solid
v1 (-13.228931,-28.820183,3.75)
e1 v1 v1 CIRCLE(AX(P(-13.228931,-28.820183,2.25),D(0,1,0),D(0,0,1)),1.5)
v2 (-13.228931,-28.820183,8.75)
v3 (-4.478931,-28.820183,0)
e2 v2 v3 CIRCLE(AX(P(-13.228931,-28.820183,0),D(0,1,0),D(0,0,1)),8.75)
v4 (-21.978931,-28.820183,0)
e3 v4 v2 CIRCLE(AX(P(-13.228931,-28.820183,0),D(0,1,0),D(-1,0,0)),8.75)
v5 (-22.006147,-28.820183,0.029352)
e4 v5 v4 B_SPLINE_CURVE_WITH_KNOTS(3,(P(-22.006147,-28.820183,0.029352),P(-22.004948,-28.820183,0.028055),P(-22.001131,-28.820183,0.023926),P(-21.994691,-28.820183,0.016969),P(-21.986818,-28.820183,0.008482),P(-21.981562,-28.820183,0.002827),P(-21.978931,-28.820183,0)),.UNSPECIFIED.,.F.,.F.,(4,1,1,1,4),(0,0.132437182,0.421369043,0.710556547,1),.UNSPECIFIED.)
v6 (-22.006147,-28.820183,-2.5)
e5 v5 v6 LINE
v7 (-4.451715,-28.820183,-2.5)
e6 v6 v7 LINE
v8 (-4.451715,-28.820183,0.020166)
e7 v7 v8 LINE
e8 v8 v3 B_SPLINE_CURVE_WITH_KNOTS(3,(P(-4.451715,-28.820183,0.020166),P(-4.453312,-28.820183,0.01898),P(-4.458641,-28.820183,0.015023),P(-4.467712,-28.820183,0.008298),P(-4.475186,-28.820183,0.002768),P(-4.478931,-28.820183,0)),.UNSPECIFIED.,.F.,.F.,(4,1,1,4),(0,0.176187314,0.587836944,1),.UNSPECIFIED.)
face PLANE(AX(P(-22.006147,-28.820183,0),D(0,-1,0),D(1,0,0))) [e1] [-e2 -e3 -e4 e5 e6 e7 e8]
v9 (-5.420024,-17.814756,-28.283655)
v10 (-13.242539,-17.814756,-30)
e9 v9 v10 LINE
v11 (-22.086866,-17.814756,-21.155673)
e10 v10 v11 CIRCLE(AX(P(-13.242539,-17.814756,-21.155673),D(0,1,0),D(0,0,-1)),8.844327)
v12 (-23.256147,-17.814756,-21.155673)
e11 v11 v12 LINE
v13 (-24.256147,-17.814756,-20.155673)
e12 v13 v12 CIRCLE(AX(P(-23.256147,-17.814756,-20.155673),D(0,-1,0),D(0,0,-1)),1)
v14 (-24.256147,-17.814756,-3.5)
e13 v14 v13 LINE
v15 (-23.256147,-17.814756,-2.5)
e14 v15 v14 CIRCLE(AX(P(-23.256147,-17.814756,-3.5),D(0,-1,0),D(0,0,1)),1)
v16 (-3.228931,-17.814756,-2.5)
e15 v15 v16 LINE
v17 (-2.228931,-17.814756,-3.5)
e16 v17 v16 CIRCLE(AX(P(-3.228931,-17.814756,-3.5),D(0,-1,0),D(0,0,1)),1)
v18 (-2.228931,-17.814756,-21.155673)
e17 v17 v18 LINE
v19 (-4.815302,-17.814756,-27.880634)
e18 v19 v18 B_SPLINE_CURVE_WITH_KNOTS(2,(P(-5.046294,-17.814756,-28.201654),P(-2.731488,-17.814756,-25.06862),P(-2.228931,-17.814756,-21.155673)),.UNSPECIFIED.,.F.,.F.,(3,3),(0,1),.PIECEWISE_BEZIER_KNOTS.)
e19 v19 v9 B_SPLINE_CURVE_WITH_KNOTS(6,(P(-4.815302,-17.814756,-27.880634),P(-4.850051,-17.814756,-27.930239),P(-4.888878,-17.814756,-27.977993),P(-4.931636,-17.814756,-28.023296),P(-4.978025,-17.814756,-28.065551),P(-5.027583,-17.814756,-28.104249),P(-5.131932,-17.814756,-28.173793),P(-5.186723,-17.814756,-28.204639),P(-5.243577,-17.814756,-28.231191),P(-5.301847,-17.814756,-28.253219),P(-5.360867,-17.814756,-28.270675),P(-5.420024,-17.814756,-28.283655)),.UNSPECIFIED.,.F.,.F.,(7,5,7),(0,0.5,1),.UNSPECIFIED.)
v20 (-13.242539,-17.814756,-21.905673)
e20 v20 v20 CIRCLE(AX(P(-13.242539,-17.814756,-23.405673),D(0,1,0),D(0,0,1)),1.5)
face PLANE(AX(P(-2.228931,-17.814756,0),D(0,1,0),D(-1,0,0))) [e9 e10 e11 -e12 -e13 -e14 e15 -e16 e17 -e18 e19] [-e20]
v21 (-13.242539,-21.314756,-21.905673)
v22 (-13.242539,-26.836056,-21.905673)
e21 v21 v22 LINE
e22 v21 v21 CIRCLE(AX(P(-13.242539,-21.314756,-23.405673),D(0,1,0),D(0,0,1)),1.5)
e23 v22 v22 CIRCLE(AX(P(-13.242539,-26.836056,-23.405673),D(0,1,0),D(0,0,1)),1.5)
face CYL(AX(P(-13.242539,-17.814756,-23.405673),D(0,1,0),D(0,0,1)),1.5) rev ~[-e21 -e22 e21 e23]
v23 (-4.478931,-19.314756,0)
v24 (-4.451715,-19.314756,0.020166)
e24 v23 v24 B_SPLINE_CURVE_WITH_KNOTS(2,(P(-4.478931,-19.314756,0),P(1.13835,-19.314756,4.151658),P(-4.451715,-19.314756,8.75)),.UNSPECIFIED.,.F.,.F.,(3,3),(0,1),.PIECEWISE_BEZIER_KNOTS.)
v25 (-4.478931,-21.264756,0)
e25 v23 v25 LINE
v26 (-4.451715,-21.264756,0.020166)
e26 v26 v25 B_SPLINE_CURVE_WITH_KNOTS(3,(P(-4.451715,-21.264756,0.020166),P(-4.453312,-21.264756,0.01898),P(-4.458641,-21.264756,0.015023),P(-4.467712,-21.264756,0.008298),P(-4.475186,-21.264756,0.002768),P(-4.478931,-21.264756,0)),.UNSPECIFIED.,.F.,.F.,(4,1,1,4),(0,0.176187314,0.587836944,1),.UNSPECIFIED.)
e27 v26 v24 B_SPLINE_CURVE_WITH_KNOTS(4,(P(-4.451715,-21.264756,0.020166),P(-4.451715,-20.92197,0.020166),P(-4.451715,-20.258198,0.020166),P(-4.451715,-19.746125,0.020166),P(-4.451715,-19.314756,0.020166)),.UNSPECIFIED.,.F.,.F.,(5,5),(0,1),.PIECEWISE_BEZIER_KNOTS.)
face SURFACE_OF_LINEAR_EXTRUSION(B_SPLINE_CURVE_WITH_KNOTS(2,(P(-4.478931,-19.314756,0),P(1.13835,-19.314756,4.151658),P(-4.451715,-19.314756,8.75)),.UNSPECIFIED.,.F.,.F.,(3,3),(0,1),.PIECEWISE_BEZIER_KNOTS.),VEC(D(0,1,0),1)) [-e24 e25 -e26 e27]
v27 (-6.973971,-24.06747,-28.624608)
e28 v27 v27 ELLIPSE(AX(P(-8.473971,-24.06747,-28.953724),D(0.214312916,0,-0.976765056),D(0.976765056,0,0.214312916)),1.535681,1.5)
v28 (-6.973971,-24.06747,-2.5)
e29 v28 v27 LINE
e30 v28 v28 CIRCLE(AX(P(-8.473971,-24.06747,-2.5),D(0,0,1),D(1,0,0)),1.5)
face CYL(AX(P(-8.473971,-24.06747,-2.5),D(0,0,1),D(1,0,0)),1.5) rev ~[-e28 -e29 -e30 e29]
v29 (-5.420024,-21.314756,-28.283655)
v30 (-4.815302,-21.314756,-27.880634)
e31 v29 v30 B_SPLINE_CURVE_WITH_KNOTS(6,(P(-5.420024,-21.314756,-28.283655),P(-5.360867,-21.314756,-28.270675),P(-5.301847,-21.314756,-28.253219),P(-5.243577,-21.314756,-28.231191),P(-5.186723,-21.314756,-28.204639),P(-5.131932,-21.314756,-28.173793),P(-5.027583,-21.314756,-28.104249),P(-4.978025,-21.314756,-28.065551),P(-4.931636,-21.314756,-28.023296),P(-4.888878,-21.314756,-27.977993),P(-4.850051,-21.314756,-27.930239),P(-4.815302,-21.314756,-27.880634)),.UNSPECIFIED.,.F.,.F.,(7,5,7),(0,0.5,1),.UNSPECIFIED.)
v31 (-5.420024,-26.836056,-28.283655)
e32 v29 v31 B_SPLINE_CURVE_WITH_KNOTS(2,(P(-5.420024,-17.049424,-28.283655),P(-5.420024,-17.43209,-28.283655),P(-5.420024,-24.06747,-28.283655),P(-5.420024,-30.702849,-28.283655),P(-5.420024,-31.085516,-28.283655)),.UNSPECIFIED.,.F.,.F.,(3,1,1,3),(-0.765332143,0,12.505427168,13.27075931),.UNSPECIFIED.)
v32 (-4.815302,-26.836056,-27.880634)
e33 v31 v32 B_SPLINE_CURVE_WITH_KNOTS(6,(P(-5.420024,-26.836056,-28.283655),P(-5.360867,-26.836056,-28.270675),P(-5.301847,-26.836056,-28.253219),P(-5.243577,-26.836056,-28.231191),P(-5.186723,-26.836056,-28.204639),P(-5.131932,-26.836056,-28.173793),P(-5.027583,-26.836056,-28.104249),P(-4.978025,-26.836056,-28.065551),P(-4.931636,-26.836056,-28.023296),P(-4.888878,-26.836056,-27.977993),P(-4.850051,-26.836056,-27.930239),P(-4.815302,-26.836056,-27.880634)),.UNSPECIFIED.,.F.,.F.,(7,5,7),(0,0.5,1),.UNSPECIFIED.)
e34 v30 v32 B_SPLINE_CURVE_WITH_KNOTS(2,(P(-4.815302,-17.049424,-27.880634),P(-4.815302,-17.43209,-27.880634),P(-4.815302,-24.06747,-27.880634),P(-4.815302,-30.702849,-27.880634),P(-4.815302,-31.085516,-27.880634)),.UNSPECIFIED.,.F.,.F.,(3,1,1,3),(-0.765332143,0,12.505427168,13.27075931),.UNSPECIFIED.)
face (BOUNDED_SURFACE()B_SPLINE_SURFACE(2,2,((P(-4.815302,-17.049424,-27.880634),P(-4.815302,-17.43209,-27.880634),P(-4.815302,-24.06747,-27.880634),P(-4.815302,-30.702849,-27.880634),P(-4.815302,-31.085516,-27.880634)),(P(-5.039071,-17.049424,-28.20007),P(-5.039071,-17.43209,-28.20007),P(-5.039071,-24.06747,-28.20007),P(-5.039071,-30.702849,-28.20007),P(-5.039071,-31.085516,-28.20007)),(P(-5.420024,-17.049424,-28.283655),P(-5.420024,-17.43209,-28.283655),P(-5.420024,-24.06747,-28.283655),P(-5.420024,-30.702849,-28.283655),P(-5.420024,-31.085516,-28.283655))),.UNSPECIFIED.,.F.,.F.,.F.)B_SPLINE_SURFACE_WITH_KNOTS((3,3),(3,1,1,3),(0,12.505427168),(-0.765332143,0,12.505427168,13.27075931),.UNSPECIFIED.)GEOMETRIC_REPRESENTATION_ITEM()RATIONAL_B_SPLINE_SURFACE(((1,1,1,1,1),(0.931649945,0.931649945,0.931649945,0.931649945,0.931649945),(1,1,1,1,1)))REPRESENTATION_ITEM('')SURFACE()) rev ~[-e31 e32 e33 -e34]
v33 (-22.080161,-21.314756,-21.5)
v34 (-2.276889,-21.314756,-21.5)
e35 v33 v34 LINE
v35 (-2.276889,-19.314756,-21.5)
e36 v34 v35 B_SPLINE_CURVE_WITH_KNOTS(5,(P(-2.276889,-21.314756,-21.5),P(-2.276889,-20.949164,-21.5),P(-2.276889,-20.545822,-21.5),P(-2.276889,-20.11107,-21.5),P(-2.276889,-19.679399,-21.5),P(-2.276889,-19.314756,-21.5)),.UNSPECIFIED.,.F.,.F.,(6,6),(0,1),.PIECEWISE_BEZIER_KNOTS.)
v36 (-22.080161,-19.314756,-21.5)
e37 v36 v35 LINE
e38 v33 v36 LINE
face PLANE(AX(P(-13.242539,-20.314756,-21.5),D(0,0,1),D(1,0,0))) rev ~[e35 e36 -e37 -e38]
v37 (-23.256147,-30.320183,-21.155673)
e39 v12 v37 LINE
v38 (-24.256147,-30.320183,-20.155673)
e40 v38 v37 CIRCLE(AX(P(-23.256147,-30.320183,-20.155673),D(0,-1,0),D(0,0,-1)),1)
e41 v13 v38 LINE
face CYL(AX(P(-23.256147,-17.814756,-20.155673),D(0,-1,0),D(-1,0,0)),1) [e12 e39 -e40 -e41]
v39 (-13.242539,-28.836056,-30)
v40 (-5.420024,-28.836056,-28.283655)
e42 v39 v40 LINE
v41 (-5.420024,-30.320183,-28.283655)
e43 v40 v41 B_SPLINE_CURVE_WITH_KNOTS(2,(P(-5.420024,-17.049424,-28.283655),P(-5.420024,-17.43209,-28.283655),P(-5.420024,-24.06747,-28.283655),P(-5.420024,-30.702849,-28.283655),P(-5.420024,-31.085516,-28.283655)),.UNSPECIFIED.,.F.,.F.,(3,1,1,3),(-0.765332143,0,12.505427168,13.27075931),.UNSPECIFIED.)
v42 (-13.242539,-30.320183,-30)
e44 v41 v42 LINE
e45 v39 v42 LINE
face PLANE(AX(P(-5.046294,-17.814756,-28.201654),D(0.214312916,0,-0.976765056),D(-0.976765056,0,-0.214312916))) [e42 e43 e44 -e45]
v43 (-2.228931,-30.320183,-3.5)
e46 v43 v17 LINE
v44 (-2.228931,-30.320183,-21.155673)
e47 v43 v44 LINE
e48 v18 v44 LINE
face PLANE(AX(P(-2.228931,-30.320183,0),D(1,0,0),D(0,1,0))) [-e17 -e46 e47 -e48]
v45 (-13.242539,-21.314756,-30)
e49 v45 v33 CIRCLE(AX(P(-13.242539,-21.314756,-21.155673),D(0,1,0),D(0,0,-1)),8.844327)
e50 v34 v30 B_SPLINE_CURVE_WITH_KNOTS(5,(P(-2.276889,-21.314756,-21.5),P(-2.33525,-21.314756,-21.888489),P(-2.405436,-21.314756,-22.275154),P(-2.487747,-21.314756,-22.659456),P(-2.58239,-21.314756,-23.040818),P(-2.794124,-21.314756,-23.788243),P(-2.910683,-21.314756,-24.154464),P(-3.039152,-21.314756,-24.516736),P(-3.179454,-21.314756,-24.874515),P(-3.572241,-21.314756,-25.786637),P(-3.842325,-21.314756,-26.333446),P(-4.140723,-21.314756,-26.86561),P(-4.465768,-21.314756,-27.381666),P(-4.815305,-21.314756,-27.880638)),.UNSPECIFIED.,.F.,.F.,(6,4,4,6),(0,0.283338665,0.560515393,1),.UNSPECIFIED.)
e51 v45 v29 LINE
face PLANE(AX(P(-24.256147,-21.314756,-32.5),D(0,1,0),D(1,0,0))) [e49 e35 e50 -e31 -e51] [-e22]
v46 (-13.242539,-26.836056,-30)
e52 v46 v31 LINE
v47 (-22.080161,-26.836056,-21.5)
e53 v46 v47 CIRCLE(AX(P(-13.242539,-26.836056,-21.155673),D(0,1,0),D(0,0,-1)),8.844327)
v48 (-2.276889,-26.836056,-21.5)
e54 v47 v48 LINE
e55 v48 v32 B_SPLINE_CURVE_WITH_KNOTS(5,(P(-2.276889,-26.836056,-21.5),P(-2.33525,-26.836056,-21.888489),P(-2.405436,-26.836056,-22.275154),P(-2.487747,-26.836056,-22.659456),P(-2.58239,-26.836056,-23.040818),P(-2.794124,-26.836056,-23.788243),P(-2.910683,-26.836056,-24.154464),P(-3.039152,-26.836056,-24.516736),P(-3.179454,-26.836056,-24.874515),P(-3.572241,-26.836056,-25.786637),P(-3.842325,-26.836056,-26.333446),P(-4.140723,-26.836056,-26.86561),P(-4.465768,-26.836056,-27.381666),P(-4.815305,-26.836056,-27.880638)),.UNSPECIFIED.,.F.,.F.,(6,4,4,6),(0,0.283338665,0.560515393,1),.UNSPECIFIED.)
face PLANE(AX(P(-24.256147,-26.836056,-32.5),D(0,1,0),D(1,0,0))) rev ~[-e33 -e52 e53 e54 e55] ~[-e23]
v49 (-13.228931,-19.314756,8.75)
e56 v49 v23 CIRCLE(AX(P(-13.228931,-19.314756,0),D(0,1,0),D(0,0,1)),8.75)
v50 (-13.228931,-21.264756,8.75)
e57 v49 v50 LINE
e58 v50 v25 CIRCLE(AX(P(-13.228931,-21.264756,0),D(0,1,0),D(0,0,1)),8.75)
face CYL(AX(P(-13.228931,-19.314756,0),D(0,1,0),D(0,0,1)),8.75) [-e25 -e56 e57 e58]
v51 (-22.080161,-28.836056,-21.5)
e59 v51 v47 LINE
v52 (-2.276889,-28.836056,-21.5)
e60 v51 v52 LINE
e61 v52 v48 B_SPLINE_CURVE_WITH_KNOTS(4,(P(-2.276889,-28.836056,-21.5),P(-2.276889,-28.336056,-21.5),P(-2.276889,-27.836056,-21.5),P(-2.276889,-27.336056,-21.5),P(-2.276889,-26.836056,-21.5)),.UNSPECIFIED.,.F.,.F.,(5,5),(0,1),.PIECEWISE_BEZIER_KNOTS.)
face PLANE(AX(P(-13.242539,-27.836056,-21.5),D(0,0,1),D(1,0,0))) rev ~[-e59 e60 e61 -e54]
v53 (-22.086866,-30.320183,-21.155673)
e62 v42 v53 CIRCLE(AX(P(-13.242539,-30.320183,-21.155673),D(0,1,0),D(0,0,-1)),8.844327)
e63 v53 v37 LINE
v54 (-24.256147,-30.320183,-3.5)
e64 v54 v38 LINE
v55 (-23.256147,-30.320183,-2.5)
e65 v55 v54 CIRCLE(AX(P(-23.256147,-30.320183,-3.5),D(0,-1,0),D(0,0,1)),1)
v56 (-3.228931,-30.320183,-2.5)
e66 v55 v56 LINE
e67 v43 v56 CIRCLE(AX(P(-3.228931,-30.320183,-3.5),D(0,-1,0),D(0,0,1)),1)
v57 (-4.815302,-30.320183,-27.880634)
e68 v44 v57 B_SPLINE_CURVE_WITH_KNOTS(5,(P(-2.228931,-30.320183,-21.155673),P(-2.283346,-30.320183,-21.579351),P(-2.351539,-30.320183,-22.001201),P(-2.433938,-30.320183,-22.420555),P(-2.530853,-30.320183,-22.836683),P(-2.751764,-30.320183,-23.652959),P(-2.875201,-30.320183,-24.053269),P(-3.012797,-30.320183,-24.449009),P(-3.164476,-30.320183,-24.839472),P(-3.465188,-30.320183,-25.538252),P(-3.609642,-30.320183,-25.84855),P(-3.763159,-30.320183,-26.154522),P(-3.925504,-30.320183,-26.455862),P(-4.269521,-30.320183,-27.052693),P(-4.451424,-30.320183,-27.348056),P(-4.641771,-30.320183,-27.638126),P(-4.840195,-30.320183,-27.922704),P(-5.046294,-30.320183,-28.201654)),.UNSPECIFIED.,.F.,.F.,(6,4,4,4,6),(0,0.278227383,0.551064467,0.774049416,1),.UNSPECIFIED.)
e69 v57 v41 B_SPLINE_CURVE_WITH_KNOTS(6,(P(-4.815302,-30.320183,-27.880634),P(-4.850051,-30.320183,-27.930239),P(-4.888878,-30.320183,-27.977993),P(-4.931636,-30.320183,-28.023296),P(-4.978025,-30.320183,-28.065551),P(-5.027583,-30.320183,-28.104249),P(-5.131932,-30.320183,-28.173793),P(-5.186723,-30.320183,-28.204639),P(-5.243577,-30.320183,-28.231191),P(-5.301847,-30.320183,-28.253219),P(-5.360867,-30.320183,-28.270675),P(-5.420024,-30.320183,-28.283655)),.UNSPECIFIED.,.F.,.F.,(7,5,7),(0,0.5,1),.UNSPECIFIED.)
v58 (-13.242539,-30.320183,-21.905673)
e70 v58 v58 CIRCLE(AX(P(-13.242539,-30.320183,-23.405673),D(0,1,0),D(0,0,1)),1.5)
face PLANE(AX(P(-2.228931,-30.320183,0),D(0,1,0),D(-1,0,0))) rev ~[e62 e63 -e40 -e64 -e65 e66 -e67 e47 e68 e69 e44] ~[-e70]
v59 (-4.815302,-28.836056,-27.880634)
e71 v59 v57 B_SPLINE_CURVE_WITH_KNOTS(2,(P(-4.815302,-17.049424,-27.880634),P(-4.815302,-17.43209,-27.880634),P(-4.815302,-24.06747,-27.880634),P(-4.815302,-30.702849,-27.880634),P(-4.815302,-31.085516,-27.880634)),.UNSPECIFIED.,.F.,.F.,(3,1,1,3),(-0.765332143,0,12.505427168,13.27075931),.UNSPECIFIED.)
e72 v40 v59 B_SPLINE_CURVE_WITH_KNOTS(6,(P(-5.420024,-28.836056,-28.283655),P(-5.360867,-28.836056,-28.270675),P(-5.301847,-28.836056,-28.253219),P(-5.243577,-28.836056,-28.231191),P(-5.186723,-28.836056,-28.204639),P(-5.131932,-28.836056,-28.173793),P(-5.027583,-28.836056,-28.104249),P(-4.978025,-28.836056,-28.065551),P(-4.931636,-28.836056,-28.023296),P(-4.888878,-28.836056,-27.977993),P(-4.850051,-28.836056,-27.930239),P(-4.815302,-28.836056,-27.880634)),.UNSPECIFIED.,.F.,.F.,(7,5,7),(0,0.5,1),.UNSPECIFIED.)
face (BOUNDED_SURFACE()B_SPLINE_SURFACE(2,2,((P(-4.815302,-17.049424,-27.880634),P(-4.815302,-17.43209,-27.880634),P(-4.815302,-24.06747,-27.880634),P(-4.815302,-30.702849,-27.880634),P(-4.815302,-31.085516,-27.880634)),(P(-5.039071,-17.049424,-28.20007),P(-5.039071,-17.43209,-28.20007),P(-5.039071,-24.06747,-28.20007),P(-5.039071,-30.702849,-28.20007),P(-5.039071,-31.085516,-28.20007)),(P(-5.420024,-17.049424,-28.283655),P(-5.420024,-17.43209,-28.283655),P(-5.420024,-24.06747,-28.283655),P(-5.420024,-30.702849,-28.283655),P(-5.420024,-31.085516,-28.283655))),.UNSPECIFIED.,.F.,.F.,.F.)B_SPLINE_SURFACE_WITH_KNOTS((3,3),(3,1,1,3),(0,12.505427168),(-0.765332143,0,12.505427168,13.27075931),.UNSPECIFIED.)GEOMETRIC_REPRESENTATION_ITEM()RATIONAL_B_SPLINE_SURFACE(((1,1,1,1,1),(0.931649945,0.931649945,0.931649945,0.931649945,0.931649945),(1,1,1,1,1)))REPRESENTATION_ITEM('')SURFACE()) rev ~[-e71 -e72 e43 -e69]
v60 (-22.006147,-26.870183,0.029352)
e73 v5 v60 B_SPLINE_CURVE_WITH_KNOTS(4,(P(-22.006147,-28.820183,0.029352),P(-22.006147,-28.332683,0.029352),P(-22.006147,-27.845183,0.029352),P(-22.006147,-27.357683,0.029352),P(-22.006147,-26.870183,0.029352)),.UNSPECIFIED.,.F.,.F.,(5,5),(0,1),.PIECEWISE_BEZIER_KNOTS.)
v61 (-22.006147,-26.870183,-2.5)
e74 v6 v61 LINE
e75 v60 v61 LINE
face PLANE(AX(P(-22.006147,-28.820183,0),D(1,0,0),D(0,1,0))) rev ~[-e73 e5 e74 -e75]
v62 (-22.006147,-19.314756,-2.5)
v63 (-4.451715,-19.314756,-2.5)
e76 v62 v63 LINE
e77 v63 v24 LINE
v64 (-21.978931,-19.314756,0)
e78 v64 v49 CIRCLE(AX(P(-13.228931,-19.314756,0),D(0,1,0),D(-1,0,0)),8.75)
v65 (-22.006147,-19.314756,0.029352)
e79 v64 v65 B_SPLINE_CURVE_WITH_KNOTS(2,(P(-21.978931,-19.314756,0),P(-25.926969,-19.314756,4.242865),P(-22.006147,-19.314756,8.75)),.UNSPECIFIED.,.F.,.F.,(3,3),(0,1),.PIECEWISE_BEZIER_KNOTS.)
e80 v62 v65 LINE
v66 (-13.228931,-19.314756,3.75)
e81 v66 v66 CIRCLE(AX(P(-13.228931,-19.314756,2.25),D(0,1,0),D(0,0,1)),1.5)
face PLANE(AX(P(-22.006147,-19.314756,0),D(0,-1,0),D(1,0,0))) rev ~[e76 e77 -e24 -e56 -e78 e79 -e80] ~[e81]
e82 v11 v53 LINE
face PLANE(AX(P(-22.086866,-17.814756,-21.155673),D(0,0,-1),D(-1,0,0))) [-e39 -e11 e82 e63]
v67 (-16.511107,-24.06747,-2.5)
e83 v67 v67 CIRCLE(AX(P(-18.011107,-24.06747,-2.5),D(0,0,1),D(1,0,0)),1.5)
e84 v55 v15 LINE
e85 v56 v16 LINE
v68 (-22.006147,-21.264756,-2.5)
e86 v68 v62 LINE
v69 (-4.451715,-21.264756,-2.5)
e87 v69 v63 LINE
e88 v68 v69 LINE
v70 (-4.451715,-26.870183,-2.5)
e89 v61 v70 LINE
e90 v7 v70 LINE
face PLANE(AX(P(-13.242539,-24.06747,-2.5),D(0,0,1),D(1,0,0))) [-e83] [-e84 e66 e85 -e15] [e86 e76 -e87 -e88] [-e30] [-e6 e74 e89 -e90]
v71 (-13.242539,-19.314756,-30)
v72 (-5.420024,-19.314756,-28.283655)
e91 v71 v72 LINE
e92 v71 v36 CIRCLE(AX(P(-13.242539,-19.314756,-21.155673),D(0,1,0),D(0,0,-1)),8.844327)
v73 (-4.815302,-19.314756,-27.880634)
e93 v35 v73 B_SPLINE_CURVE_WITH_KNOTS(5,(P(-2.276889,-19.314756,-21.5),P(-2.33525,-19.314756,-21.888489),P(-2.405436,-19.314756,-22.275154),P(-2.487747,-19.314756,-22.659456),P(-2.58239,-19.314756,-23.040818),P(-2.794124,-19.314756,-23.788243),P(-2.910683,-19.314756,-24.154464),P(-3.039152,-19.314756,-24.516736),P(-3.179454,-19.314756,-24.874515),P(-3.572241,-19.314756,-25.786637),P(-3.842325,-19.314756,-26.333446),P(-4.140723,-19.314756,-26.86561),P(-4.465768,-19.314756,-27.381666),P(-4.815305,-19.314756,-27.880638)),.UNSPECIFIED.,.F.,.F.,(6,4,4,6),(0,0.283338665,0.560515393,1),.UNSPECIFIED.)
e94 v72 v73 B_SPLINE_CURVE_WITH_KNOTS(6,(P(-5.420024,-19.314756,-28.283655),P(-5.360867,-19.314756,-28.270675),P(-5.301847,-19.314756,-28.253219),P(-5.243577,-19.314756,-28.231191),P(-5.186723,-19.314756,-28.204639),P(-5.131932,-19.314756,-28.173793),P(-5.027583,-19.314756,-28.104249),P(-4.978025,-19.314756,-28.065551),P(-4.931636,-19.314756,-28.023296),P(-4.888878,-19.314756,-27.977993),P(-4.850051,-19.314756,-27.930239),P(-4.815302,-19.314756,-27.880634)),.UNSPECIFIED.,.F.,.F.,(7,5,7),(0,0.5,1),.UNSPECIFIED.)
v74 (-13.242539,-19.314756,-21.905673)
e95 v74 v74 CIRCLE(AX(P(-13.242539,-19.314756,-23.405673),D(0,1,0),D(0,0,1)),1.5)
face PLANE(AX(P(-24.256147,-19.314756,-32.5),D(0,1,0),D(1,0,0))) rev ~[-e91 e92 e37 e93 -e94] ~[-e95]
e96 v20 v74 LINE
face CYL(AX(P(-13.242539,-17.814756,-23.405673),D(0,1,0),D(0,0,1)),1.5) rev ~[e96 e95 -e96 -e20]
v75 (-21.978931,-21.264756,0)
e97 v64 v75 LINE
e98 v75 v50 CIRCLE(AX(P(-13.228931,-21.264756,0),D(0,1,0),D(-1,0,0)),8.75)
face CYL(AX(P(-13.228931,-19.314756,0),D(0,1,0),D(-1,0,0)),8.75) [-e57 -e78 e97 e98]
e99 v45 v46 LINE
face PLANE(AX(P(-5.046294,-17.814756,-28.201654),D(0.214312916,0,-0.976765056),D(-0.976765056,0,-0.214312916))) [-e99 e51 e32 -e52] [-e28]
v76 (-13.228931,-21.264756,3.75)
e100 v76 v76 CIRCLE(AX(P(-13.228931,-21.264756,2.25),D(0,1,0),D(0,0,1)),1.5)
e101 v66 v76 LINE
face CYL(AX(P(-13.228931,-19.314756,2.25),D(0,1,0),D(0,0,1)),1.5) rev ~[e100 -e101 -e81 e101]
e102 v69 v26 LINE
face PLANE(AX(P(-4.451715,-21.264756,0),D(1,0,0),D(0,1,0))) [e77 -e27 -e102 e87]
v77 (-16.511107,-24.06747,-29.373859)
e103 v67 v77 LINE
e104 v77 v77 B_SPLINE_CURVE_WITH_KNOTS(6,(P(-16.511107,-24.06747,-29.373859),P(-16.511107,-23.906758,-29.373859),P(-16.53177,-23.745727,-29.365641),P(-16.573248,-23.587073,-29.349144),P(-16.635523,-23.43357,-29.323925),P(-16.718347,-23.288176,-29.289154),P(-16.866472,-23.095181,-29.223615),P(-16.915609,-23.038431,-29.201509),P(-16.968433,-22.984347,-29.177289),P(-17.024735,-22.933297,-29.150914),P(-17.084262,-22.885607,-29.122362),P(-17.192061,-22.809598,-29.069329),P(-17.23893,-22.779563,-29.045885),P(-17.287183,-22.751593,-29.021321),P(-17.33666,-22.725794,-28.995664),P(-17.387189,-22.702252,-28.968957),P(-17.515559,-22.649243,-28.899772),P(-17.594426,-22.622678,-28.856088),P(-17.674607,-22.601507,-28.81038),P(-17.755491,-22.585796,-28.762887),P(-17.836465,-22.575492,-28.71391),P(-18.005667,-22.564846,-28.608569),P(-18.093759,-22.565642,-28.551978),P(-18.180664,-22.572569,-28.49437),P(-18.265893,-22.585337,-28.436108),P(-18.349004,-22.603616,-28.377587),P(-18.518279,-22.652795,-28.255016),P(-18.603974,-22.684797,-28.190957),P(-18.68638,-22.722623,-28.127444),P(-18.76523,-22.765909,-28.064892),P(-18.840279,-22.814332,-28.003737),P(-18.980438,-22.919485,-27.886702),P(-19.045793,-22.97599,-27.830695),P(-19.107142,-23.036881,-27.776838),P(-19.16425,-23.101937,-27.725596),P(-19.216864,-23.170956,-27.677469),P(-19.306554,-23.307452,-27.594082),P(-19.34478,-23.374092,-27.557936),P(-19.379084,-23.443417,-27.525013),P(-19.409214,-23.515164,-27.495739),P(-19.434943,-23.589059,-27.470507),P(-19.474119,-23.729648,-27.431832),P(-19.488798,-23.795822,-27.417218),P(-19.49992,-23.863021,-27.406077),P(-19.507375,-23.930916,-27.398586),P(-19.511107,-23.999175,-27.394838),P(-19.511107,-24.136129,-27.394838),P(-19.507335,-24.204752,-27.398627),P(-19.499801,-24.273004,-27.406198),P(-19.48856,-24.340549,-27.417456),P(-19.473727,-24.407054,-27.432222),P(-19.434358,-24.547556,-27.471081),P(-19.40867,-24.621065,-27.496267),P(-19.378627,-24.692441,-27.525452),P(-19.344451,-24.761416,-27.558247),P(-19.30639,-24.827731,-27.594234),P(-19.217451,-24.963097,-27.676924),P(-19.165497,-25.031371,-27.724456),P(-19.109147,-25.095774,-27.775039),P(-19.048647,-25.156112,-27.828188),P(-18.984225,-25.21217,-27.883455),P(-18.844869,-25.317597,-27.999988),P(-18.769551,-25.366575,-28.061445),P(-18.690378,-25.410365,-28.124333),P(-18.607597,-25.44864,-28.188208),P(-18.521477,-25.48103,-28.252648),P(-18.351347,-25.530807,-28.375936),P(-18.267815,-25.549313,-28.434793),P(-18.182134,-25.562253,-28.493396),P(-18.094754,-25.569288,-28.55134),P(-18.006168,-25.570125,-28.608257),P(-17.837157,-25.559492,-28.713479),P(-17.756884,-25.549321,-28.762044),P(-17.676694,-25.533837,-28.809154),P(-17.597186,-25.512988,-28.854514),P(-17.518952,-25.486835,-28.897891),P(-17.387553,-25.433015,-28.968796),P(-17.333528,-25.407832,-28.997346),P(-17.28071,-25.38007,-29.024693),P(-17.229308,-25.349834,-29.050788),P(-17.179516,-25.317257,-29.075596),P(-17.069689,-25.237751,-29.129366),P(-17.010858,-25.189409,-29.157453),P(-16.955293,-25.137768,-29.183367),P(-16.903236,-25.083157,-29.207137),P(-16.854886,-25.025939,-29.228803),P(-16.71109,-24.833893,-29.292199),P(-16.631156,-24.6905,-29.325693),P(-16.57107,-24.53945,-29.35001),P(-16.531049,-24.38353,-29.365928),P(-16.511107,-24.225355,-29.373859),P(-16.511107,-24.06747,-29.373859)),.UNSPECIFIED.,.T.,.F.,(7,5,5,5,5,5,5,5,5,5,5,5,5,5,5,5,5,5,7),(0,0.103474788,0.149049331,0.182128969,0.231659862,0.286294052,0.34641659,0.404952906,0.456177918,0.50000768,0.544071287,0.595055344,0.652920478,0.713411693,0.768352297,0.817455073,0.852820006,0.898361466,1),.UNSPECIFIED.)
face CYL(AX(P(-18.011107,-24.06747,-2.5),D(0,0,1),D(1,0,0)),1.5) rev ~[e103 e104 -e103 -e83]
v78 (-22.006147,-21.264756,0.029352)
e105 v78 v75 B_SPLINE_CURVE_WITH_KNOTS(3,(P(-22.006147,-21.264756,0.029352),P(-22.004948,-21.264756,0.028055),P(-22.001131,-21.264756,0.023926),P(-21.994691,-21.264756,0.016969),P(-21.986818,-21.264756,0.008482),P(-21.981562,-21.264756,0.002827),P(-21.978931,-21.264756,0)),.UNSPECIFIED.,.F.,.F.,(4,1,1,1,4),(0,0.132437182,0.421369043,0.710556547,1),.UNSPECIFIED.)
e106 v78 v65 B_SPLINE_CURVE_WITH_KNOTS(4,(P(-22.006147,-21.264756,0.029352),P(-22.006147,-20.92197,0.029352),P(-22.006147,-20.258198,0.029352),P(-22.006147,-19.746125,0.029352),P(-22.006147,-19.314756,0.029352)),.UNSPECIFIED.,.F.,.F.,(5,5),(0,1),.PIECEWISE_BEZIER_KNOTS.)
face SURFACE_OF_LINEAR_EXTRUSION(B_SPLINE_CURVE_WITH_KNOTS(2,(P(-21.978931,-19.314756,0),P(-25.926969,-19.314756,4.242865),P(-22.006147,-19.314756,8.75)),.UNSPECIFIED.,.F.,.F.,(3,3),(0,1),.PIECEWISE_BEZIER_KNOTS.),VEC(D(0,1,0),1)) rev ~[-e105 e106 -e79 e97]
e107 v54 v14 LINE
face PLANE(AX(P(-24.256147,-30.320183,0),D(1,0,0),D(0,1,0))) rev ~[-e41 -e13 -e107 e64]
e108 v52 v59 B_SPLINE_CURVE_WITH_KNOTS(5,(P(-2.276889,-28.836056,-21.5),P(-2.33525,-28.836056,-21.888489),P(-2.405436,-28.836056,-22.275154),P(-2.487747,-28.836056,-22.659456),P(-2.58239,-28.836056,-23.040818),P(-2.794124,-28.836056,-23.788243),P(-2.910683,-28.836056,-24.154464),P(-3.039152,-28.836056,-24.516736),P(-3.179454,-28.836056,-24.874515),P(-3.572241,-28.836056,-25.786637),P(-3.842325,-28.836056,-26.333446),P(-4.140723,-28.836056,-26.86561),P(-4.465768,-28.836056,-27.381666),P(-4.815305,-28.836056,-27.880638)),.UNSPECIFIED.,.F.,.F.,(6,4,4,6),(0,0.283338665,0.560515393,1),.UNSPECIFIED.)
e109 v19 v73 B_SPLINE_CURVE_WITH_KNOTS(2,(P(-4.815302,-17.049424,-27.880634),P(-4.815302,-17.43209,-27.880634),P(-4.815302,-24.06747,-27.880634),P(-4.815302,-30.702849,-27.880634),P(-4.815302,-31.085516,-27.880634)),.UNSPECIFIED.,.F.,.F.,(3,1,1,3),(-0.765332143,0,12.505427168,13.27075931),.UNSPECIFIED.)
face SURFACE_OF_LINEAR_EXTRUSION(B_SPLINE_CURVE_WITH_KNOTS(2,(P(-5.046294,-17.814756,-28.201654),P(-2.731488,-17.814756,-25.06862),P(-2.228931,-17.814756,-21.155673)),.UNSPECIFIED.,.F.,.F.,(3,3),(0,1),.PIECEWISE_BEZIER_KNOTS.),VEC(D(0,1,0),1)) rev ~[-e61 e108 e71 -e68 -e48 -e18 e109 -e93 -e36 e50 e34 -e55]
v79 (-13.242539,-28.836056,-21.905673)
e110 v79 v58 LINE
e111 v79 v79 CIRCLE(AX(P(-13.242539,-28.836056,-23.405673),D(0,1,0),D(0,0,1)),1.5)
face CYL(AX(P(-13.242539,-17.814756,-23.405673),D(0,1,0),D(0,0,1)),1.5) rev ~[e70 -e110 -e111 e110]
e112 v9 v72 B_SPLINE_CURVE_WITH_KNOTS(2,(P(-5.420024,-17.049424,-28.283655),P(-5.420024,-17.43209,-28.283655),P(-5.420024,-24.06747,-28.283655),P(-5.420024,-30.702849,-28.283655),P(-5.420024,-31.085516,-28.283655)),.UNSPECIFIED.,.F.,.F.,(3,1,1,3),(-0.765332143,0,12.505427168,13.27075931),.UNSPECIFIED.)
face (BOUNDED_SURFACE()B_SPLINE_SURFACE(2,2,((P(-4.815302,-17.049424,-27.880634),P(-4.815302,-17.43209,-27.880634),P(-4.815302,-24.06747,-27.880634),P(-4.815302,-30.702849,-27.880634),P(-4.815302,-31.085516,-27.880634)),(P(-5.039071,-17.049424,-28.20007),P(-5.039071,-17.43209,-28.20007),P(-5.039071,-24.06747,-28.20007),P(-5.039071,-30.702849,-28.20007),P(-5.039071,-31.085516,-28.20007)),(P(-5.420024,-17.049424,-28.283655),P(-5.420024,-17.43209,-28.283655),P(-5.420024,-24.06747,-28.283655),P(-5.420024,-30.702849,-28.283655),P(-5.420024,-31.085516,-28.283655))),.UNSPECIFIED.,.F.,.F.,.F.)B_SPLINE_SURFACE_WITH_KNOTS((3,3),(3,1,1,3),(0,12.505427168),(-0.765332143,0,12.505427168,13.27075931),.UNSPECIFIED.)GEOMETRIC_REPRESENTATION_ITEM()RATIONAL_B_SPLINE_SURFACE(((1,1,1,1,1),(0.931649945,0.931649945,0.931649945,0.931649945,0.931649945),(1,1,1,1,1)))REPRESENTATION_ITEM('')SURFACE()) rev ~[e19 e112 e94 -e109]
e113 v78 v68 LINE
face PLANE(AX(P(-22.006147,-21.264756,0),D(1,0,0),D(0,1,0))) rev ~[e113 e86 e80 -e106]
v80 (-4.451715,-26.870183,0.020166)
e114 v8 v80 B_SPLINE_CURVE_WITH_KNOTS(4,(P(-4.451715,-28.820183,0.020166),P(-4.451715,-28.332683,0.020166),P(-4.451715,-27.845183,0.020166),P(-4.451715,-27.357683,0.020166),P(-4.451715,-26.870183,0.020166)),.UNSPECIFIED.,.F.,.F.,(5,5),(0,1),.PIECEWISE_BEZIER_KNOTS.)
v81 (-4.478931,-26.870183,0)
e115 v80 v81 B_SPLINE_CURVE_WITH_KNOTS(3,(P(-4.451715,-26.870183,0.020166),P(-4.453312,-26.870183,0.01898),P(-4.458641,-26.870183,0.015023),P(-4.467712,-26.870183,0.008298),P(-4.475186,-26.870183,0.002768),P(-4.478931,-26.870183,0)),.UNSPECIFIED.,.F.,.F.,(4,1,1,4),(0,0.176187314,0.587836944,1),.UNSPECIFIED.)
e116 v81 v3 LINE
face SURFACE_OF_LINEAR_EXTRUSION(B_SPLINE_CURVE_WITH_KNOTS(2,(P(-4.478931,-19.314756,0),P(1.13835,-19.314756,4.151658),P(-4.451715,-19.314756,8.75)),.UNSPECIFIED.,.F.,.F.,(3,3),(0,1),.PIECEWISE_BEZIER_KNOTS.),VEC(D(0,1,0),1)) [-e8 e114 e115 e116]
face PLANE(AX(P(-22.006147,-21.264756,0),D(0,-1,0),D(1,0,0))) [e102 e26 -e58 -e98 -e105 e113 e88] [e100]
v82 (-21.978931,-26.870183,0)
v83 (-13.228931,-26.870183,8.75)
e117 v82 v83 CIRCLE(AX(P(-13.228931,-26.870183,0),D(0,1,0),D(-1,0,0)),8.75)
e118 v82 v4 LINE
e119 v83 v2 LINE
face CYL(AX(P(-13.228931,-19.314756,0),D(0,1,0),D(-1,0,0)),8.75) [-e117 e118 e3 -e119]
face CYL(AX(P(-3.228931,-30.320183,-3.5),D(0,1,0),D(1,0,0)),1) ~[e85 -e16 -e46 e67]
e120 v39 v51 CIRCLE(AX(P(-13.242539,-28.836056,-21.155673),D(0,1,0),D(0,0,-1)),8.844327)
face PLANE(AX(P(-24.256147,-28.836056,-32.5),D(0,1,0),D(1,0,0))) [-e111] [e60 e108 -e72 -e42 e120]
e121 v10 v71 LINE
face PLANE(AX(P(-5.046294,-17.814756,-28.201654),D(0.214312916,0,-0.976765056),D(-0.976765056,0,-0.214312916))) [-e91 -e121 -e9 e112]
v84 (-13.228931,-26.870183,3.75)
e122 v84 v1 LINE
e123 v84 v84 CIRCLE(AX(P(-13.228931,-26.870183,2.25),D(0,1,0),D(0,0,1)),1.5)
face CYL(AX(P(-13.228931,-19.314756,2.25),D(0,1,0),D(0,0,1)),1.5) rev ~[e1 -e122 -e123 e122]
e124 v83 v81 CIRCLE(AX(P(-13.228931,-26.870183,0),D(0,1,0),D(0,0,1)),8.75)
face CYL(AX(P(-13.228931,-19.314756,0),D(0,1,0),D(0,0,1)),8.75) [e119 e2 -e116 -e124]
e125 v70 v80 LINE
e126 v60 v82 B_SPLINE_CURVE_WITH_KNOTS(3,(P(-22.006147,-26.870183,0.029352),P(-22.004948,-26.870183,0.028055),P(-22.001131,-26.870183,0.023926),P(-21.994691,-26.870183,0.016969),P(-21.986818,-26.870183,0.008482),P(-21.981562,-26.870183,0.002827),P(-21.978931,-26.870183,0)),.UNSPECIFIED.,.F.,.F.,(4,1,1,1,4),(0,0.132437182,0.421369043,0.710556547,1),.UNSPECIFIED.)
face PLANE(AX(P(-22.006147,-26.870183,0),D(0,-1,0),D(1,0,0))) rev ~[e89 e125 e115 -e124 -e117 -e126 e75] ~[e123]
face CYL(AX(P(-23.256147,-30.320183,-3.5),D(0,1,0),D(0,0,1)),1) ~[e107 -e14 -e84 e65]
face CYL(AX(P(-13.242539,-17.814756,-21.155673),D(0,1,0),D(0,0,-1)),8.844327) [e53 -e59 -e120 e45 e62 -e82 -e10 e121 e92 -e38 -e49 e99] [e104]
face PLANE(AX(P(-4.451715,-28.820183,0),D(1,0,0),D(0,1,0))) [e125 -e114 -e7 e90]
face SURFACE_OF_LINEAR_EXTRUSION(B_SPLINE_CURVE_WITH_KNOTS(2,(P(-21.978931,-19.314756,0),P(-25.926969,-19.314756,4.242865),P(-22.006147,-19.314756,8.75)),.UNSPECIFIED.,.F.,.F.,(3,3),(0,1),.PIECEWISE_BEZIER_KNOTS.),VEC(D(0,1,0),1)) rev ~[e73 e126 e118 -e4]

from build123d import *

# Parameters (mm, degrees)
SKETCH2_W             = 17.554431489
SKETCH2_H             = 1.95
BOSS_EXTRUDE1_DEPTH   = 8.75
BOSS_EXTRUDE1_2_DEPTH = 8.75
CUT_EXTRUDE1_DEPTH    = 26.518349076
SKETCH4_W             = 22.027215745
SKETCH4_H             = 12.505427167
BOSS_EXTRUDE2_DEPTH   = 30
SKETCH5_R             = 1.5
CUT_EXTRUDE2_DEPTH    = 12
SKETCH6_W             = 22.027215745
SKETCH6_H             = 12.505427167
SKETCH6_W_2           = 17.554431489
SKETCH6_H_2           = 1.95
CUT_EXTRUDE3_DEPTH    = 2.5
SKETCH7_R             = 1.5
CUT_EXTRUDE4_DEPTH    = 13
SKETCH8_R             = 1.5
CUT_EXTRUDE5_DEPTH    = 28
FILLET3_R             = 1
SKETCH9_W             = 22.02721574
SKETCH9_H             = 2
CUT_EXTRUDE6_DEPTH    = 11


with BuildPart() as part:
    # Sketch2 → Boss-Extrude1 (new body)
    with BuildSketch(Plane.XY):
        with Locations((-13.228930986, -27.845183414)):
            Rectangle(SKETCH2_W, SKETCH2_H)
    extrude(amount=BOSS_EXTRUDE1_DEPTH)


with BuildPart() as body_2:
    # Sketch2 → Boss-Extrude1 2 (new body)
    with BuildSketch(Plane.XY):
        with Locations((-13.228930986, -20.289756247)):
            Rectangle(SKETCH2_W, SKETCH2_H)
    extrude(amount=BOSS_EXTRUDE1_2_DEPTH)


with BuildPart() as cut_extrude1_tool:
    # Sketch3 → Cut-Extrude1 (new, through all)
    with BuildSketch(Plane(origin=(0, -19.314756247, 0), x_dir=(1, 0, 0), z_dir=(0, 1, 0))):
        with BuildLine():
            ThreePointArc((-13.228930986, -8.75), (-7.041746651, -6.187184335), (-4.478930986, 0))
            add(Edge.make_bspline(
                [(-4.478930986, 0), (1.138349918, -4.151657709), (-4.451715242, -8.75)],
                knots=[0, 0, 0, 1, 1, 1], degree=2))
            add(Edge.make_bspline(
                [(-22.006146731, -8.75), (-13.228930986, -12.473510392), (-4.451715242, -8.75)],
                knots=[0, 0, 0, 1, 1, 1], degree=2))
            add(Edge.make_bspline(
                [(-21.978930986, 0), (-25.926969228, -4.242865138), (-22.006146731, -8.75)],
                knots=[0, 0, 0, 1, 1, 1], degree=2))
            ThreePointArc((-21.978930986, 0), (-19.416115322, -6.187184335), (-13.228930986, -8.75))
        make_face()
    extrude(amount=-CUT_EXTRUDE1_DEPTH)


with BuildPart() as part_1:
    add(part.part)

    # Cut-Extrude1: cut by cut_extrude1_tool
    add(cut_extrude1_tool.part, mode=Mode.SUBTRACT)



with BuildPart() as body_2_1:
    add(body_2.part)

    # Cut-Extrude1: cut by cut_extrude1_tool
    add(cut_extrude1_tool.part, mode=Mode.SUBTRACT)


with BuildPart() as part_2:
    add(part_1.part)

    add(body_2_1.part)  # Boss-Extrude2 merges body 2
    # Sketch4 → Boss-Extrude2 (add)
    with BuildSketch(Plane(origin=(0, 0, 0), x_dir=(-1, 0, 0), z_dir=(0, 0, -1))):
        with Locations((13.242538859, -24.067469831)):
            Rectangle(SKETCH4_W, SKETCH4_H)
    extrude(amount=BOSS_EXTRUDE2_DEPTH)

    # Sketch5 → Cut-Extrude2 (cut)
    with BuildSketch(Plane(origin=(0, -19.314756247, 0), x_dir=(1, 0, 0), z_dir=(0, 1, 0))):
        with Locations(Location((-13.228930986, -2.25, 0), (0, 0, 270))):
            Circle(SKETCH5_R)
    extrude(amount=-CUT_EXTRUDE2_DEPTH, mode=Mode.SUBTRACT)

    # Sketch6 → Cut-Extrude3 (cut)
    with BuildSketch(Plane.XY):
        with Locations((-13.242538859, -24.067469831)):
            Rectangle(SKETCH6_W, SKETCH6_H)
        with Locations((-13.228930986, -27.845183414)):
            Rectangle(SKETCH6_W_2, SKETCH6_H_2, mode=Mode.SUBTRACT)
        with Locations((-13.228930986, -20.289756247)):
            Rectangle(SKETCH6_W_2, SKETCH6_H_2, mode=Mode.SUBTRACT)
    extrude(amount=-CUT_EXTRUDE3_DEPTH, mode=Mode.SUBTRACT)

    # Sketch7 → Cut-Extrude4 (cut)
    with BuildSketch(Plane(origin=(0, -17.814756247, 0), x_dir=(1, 0, 0), z_dir=(0, 1, 0))):
        with Locations(Location((-13.242538859, 23.405672985, 0), (0, 0, 270))):
            Circle(SKETCH7_R)
        with BuildLine():
            Line((-22.086865874, 21.155672985), (-24.256146731, 21.155672985))
            add(Edge.make_bspline(
                [(-2.228930986, 21.155672985), (11.471530889, 27.189710441), (-11.765166974, 53.431279988), (-37.007876173, 21.523583672), (-24.256146731, 21.155672985)],
                knots=[0, 0, 0, 0, 0.52011282, 1, 1, 1, 1], degree=3))
            add(Edge.make_bspline(
                [(-5.046294073, 28.201654423), (-2.731488374, 25.068620188), (-2.228930986, 21.155672985)],
                knots=[0, 0, 0, 1, 1, 1], degree=2))
            Line((-5.046294073, 28.201654423), (-13.242538859, 30))
            ThreePointArc((-13.242538859, 30), (-19.496422466, 27.409556592), (-22.086865874, 21.155672985))
        make_face()
    extrude(amount=-CUT_EXTRUDE4_DEPTH, mode=Mode.SUBTRACT)

    # Sketch8 → Cut-Extrude5 (cut)
    with BuildSketch(Plane.XY.offset(-2.5)):
        with Locations((-18.011106811, -24.06746983)):
            Circle(SKETCH8_R)
        with Locations((-8.473970906, -24.06746983)):
            Circle(SKETCH8_R)
    extrude(amount=-CUT_EXTRUDE5_DEPTH, mode=Mode.SUBTRACT)

    # Fillet3
    fillet3_edges = [part_2.edges().sort_by_distance(p)[0] for p in [
        (-24.256146731, -24.06746983, -2.5),
        (-24.256146731, -24.06746983, -21.155672985),
        (-2.228930986, -24.06746983, -2.5),
        (-5.046294073, -24.06746983, -28.201654423),
    ]]
    fillet(fillet3_edges, radius=FILLET3_R)

    # Sketch9 → Cut-Extrude6 (cut)
    with BuildSketch(Plane.XY.offset(-32.5)):
        with Locations((-13.24253886, -20.31475625)):
            Rectangle(SKETCH9_W, SKETCH9_H)
        with Locations((-13.24253886, -27.836055834)):
            Rectangle(SKETCH9_W, SKETCH9_H)
    extrude(amount=CUT_EXTRUDE6_DEPTH, mode=Mode.SUBTRACT)


solid = part_2.part
